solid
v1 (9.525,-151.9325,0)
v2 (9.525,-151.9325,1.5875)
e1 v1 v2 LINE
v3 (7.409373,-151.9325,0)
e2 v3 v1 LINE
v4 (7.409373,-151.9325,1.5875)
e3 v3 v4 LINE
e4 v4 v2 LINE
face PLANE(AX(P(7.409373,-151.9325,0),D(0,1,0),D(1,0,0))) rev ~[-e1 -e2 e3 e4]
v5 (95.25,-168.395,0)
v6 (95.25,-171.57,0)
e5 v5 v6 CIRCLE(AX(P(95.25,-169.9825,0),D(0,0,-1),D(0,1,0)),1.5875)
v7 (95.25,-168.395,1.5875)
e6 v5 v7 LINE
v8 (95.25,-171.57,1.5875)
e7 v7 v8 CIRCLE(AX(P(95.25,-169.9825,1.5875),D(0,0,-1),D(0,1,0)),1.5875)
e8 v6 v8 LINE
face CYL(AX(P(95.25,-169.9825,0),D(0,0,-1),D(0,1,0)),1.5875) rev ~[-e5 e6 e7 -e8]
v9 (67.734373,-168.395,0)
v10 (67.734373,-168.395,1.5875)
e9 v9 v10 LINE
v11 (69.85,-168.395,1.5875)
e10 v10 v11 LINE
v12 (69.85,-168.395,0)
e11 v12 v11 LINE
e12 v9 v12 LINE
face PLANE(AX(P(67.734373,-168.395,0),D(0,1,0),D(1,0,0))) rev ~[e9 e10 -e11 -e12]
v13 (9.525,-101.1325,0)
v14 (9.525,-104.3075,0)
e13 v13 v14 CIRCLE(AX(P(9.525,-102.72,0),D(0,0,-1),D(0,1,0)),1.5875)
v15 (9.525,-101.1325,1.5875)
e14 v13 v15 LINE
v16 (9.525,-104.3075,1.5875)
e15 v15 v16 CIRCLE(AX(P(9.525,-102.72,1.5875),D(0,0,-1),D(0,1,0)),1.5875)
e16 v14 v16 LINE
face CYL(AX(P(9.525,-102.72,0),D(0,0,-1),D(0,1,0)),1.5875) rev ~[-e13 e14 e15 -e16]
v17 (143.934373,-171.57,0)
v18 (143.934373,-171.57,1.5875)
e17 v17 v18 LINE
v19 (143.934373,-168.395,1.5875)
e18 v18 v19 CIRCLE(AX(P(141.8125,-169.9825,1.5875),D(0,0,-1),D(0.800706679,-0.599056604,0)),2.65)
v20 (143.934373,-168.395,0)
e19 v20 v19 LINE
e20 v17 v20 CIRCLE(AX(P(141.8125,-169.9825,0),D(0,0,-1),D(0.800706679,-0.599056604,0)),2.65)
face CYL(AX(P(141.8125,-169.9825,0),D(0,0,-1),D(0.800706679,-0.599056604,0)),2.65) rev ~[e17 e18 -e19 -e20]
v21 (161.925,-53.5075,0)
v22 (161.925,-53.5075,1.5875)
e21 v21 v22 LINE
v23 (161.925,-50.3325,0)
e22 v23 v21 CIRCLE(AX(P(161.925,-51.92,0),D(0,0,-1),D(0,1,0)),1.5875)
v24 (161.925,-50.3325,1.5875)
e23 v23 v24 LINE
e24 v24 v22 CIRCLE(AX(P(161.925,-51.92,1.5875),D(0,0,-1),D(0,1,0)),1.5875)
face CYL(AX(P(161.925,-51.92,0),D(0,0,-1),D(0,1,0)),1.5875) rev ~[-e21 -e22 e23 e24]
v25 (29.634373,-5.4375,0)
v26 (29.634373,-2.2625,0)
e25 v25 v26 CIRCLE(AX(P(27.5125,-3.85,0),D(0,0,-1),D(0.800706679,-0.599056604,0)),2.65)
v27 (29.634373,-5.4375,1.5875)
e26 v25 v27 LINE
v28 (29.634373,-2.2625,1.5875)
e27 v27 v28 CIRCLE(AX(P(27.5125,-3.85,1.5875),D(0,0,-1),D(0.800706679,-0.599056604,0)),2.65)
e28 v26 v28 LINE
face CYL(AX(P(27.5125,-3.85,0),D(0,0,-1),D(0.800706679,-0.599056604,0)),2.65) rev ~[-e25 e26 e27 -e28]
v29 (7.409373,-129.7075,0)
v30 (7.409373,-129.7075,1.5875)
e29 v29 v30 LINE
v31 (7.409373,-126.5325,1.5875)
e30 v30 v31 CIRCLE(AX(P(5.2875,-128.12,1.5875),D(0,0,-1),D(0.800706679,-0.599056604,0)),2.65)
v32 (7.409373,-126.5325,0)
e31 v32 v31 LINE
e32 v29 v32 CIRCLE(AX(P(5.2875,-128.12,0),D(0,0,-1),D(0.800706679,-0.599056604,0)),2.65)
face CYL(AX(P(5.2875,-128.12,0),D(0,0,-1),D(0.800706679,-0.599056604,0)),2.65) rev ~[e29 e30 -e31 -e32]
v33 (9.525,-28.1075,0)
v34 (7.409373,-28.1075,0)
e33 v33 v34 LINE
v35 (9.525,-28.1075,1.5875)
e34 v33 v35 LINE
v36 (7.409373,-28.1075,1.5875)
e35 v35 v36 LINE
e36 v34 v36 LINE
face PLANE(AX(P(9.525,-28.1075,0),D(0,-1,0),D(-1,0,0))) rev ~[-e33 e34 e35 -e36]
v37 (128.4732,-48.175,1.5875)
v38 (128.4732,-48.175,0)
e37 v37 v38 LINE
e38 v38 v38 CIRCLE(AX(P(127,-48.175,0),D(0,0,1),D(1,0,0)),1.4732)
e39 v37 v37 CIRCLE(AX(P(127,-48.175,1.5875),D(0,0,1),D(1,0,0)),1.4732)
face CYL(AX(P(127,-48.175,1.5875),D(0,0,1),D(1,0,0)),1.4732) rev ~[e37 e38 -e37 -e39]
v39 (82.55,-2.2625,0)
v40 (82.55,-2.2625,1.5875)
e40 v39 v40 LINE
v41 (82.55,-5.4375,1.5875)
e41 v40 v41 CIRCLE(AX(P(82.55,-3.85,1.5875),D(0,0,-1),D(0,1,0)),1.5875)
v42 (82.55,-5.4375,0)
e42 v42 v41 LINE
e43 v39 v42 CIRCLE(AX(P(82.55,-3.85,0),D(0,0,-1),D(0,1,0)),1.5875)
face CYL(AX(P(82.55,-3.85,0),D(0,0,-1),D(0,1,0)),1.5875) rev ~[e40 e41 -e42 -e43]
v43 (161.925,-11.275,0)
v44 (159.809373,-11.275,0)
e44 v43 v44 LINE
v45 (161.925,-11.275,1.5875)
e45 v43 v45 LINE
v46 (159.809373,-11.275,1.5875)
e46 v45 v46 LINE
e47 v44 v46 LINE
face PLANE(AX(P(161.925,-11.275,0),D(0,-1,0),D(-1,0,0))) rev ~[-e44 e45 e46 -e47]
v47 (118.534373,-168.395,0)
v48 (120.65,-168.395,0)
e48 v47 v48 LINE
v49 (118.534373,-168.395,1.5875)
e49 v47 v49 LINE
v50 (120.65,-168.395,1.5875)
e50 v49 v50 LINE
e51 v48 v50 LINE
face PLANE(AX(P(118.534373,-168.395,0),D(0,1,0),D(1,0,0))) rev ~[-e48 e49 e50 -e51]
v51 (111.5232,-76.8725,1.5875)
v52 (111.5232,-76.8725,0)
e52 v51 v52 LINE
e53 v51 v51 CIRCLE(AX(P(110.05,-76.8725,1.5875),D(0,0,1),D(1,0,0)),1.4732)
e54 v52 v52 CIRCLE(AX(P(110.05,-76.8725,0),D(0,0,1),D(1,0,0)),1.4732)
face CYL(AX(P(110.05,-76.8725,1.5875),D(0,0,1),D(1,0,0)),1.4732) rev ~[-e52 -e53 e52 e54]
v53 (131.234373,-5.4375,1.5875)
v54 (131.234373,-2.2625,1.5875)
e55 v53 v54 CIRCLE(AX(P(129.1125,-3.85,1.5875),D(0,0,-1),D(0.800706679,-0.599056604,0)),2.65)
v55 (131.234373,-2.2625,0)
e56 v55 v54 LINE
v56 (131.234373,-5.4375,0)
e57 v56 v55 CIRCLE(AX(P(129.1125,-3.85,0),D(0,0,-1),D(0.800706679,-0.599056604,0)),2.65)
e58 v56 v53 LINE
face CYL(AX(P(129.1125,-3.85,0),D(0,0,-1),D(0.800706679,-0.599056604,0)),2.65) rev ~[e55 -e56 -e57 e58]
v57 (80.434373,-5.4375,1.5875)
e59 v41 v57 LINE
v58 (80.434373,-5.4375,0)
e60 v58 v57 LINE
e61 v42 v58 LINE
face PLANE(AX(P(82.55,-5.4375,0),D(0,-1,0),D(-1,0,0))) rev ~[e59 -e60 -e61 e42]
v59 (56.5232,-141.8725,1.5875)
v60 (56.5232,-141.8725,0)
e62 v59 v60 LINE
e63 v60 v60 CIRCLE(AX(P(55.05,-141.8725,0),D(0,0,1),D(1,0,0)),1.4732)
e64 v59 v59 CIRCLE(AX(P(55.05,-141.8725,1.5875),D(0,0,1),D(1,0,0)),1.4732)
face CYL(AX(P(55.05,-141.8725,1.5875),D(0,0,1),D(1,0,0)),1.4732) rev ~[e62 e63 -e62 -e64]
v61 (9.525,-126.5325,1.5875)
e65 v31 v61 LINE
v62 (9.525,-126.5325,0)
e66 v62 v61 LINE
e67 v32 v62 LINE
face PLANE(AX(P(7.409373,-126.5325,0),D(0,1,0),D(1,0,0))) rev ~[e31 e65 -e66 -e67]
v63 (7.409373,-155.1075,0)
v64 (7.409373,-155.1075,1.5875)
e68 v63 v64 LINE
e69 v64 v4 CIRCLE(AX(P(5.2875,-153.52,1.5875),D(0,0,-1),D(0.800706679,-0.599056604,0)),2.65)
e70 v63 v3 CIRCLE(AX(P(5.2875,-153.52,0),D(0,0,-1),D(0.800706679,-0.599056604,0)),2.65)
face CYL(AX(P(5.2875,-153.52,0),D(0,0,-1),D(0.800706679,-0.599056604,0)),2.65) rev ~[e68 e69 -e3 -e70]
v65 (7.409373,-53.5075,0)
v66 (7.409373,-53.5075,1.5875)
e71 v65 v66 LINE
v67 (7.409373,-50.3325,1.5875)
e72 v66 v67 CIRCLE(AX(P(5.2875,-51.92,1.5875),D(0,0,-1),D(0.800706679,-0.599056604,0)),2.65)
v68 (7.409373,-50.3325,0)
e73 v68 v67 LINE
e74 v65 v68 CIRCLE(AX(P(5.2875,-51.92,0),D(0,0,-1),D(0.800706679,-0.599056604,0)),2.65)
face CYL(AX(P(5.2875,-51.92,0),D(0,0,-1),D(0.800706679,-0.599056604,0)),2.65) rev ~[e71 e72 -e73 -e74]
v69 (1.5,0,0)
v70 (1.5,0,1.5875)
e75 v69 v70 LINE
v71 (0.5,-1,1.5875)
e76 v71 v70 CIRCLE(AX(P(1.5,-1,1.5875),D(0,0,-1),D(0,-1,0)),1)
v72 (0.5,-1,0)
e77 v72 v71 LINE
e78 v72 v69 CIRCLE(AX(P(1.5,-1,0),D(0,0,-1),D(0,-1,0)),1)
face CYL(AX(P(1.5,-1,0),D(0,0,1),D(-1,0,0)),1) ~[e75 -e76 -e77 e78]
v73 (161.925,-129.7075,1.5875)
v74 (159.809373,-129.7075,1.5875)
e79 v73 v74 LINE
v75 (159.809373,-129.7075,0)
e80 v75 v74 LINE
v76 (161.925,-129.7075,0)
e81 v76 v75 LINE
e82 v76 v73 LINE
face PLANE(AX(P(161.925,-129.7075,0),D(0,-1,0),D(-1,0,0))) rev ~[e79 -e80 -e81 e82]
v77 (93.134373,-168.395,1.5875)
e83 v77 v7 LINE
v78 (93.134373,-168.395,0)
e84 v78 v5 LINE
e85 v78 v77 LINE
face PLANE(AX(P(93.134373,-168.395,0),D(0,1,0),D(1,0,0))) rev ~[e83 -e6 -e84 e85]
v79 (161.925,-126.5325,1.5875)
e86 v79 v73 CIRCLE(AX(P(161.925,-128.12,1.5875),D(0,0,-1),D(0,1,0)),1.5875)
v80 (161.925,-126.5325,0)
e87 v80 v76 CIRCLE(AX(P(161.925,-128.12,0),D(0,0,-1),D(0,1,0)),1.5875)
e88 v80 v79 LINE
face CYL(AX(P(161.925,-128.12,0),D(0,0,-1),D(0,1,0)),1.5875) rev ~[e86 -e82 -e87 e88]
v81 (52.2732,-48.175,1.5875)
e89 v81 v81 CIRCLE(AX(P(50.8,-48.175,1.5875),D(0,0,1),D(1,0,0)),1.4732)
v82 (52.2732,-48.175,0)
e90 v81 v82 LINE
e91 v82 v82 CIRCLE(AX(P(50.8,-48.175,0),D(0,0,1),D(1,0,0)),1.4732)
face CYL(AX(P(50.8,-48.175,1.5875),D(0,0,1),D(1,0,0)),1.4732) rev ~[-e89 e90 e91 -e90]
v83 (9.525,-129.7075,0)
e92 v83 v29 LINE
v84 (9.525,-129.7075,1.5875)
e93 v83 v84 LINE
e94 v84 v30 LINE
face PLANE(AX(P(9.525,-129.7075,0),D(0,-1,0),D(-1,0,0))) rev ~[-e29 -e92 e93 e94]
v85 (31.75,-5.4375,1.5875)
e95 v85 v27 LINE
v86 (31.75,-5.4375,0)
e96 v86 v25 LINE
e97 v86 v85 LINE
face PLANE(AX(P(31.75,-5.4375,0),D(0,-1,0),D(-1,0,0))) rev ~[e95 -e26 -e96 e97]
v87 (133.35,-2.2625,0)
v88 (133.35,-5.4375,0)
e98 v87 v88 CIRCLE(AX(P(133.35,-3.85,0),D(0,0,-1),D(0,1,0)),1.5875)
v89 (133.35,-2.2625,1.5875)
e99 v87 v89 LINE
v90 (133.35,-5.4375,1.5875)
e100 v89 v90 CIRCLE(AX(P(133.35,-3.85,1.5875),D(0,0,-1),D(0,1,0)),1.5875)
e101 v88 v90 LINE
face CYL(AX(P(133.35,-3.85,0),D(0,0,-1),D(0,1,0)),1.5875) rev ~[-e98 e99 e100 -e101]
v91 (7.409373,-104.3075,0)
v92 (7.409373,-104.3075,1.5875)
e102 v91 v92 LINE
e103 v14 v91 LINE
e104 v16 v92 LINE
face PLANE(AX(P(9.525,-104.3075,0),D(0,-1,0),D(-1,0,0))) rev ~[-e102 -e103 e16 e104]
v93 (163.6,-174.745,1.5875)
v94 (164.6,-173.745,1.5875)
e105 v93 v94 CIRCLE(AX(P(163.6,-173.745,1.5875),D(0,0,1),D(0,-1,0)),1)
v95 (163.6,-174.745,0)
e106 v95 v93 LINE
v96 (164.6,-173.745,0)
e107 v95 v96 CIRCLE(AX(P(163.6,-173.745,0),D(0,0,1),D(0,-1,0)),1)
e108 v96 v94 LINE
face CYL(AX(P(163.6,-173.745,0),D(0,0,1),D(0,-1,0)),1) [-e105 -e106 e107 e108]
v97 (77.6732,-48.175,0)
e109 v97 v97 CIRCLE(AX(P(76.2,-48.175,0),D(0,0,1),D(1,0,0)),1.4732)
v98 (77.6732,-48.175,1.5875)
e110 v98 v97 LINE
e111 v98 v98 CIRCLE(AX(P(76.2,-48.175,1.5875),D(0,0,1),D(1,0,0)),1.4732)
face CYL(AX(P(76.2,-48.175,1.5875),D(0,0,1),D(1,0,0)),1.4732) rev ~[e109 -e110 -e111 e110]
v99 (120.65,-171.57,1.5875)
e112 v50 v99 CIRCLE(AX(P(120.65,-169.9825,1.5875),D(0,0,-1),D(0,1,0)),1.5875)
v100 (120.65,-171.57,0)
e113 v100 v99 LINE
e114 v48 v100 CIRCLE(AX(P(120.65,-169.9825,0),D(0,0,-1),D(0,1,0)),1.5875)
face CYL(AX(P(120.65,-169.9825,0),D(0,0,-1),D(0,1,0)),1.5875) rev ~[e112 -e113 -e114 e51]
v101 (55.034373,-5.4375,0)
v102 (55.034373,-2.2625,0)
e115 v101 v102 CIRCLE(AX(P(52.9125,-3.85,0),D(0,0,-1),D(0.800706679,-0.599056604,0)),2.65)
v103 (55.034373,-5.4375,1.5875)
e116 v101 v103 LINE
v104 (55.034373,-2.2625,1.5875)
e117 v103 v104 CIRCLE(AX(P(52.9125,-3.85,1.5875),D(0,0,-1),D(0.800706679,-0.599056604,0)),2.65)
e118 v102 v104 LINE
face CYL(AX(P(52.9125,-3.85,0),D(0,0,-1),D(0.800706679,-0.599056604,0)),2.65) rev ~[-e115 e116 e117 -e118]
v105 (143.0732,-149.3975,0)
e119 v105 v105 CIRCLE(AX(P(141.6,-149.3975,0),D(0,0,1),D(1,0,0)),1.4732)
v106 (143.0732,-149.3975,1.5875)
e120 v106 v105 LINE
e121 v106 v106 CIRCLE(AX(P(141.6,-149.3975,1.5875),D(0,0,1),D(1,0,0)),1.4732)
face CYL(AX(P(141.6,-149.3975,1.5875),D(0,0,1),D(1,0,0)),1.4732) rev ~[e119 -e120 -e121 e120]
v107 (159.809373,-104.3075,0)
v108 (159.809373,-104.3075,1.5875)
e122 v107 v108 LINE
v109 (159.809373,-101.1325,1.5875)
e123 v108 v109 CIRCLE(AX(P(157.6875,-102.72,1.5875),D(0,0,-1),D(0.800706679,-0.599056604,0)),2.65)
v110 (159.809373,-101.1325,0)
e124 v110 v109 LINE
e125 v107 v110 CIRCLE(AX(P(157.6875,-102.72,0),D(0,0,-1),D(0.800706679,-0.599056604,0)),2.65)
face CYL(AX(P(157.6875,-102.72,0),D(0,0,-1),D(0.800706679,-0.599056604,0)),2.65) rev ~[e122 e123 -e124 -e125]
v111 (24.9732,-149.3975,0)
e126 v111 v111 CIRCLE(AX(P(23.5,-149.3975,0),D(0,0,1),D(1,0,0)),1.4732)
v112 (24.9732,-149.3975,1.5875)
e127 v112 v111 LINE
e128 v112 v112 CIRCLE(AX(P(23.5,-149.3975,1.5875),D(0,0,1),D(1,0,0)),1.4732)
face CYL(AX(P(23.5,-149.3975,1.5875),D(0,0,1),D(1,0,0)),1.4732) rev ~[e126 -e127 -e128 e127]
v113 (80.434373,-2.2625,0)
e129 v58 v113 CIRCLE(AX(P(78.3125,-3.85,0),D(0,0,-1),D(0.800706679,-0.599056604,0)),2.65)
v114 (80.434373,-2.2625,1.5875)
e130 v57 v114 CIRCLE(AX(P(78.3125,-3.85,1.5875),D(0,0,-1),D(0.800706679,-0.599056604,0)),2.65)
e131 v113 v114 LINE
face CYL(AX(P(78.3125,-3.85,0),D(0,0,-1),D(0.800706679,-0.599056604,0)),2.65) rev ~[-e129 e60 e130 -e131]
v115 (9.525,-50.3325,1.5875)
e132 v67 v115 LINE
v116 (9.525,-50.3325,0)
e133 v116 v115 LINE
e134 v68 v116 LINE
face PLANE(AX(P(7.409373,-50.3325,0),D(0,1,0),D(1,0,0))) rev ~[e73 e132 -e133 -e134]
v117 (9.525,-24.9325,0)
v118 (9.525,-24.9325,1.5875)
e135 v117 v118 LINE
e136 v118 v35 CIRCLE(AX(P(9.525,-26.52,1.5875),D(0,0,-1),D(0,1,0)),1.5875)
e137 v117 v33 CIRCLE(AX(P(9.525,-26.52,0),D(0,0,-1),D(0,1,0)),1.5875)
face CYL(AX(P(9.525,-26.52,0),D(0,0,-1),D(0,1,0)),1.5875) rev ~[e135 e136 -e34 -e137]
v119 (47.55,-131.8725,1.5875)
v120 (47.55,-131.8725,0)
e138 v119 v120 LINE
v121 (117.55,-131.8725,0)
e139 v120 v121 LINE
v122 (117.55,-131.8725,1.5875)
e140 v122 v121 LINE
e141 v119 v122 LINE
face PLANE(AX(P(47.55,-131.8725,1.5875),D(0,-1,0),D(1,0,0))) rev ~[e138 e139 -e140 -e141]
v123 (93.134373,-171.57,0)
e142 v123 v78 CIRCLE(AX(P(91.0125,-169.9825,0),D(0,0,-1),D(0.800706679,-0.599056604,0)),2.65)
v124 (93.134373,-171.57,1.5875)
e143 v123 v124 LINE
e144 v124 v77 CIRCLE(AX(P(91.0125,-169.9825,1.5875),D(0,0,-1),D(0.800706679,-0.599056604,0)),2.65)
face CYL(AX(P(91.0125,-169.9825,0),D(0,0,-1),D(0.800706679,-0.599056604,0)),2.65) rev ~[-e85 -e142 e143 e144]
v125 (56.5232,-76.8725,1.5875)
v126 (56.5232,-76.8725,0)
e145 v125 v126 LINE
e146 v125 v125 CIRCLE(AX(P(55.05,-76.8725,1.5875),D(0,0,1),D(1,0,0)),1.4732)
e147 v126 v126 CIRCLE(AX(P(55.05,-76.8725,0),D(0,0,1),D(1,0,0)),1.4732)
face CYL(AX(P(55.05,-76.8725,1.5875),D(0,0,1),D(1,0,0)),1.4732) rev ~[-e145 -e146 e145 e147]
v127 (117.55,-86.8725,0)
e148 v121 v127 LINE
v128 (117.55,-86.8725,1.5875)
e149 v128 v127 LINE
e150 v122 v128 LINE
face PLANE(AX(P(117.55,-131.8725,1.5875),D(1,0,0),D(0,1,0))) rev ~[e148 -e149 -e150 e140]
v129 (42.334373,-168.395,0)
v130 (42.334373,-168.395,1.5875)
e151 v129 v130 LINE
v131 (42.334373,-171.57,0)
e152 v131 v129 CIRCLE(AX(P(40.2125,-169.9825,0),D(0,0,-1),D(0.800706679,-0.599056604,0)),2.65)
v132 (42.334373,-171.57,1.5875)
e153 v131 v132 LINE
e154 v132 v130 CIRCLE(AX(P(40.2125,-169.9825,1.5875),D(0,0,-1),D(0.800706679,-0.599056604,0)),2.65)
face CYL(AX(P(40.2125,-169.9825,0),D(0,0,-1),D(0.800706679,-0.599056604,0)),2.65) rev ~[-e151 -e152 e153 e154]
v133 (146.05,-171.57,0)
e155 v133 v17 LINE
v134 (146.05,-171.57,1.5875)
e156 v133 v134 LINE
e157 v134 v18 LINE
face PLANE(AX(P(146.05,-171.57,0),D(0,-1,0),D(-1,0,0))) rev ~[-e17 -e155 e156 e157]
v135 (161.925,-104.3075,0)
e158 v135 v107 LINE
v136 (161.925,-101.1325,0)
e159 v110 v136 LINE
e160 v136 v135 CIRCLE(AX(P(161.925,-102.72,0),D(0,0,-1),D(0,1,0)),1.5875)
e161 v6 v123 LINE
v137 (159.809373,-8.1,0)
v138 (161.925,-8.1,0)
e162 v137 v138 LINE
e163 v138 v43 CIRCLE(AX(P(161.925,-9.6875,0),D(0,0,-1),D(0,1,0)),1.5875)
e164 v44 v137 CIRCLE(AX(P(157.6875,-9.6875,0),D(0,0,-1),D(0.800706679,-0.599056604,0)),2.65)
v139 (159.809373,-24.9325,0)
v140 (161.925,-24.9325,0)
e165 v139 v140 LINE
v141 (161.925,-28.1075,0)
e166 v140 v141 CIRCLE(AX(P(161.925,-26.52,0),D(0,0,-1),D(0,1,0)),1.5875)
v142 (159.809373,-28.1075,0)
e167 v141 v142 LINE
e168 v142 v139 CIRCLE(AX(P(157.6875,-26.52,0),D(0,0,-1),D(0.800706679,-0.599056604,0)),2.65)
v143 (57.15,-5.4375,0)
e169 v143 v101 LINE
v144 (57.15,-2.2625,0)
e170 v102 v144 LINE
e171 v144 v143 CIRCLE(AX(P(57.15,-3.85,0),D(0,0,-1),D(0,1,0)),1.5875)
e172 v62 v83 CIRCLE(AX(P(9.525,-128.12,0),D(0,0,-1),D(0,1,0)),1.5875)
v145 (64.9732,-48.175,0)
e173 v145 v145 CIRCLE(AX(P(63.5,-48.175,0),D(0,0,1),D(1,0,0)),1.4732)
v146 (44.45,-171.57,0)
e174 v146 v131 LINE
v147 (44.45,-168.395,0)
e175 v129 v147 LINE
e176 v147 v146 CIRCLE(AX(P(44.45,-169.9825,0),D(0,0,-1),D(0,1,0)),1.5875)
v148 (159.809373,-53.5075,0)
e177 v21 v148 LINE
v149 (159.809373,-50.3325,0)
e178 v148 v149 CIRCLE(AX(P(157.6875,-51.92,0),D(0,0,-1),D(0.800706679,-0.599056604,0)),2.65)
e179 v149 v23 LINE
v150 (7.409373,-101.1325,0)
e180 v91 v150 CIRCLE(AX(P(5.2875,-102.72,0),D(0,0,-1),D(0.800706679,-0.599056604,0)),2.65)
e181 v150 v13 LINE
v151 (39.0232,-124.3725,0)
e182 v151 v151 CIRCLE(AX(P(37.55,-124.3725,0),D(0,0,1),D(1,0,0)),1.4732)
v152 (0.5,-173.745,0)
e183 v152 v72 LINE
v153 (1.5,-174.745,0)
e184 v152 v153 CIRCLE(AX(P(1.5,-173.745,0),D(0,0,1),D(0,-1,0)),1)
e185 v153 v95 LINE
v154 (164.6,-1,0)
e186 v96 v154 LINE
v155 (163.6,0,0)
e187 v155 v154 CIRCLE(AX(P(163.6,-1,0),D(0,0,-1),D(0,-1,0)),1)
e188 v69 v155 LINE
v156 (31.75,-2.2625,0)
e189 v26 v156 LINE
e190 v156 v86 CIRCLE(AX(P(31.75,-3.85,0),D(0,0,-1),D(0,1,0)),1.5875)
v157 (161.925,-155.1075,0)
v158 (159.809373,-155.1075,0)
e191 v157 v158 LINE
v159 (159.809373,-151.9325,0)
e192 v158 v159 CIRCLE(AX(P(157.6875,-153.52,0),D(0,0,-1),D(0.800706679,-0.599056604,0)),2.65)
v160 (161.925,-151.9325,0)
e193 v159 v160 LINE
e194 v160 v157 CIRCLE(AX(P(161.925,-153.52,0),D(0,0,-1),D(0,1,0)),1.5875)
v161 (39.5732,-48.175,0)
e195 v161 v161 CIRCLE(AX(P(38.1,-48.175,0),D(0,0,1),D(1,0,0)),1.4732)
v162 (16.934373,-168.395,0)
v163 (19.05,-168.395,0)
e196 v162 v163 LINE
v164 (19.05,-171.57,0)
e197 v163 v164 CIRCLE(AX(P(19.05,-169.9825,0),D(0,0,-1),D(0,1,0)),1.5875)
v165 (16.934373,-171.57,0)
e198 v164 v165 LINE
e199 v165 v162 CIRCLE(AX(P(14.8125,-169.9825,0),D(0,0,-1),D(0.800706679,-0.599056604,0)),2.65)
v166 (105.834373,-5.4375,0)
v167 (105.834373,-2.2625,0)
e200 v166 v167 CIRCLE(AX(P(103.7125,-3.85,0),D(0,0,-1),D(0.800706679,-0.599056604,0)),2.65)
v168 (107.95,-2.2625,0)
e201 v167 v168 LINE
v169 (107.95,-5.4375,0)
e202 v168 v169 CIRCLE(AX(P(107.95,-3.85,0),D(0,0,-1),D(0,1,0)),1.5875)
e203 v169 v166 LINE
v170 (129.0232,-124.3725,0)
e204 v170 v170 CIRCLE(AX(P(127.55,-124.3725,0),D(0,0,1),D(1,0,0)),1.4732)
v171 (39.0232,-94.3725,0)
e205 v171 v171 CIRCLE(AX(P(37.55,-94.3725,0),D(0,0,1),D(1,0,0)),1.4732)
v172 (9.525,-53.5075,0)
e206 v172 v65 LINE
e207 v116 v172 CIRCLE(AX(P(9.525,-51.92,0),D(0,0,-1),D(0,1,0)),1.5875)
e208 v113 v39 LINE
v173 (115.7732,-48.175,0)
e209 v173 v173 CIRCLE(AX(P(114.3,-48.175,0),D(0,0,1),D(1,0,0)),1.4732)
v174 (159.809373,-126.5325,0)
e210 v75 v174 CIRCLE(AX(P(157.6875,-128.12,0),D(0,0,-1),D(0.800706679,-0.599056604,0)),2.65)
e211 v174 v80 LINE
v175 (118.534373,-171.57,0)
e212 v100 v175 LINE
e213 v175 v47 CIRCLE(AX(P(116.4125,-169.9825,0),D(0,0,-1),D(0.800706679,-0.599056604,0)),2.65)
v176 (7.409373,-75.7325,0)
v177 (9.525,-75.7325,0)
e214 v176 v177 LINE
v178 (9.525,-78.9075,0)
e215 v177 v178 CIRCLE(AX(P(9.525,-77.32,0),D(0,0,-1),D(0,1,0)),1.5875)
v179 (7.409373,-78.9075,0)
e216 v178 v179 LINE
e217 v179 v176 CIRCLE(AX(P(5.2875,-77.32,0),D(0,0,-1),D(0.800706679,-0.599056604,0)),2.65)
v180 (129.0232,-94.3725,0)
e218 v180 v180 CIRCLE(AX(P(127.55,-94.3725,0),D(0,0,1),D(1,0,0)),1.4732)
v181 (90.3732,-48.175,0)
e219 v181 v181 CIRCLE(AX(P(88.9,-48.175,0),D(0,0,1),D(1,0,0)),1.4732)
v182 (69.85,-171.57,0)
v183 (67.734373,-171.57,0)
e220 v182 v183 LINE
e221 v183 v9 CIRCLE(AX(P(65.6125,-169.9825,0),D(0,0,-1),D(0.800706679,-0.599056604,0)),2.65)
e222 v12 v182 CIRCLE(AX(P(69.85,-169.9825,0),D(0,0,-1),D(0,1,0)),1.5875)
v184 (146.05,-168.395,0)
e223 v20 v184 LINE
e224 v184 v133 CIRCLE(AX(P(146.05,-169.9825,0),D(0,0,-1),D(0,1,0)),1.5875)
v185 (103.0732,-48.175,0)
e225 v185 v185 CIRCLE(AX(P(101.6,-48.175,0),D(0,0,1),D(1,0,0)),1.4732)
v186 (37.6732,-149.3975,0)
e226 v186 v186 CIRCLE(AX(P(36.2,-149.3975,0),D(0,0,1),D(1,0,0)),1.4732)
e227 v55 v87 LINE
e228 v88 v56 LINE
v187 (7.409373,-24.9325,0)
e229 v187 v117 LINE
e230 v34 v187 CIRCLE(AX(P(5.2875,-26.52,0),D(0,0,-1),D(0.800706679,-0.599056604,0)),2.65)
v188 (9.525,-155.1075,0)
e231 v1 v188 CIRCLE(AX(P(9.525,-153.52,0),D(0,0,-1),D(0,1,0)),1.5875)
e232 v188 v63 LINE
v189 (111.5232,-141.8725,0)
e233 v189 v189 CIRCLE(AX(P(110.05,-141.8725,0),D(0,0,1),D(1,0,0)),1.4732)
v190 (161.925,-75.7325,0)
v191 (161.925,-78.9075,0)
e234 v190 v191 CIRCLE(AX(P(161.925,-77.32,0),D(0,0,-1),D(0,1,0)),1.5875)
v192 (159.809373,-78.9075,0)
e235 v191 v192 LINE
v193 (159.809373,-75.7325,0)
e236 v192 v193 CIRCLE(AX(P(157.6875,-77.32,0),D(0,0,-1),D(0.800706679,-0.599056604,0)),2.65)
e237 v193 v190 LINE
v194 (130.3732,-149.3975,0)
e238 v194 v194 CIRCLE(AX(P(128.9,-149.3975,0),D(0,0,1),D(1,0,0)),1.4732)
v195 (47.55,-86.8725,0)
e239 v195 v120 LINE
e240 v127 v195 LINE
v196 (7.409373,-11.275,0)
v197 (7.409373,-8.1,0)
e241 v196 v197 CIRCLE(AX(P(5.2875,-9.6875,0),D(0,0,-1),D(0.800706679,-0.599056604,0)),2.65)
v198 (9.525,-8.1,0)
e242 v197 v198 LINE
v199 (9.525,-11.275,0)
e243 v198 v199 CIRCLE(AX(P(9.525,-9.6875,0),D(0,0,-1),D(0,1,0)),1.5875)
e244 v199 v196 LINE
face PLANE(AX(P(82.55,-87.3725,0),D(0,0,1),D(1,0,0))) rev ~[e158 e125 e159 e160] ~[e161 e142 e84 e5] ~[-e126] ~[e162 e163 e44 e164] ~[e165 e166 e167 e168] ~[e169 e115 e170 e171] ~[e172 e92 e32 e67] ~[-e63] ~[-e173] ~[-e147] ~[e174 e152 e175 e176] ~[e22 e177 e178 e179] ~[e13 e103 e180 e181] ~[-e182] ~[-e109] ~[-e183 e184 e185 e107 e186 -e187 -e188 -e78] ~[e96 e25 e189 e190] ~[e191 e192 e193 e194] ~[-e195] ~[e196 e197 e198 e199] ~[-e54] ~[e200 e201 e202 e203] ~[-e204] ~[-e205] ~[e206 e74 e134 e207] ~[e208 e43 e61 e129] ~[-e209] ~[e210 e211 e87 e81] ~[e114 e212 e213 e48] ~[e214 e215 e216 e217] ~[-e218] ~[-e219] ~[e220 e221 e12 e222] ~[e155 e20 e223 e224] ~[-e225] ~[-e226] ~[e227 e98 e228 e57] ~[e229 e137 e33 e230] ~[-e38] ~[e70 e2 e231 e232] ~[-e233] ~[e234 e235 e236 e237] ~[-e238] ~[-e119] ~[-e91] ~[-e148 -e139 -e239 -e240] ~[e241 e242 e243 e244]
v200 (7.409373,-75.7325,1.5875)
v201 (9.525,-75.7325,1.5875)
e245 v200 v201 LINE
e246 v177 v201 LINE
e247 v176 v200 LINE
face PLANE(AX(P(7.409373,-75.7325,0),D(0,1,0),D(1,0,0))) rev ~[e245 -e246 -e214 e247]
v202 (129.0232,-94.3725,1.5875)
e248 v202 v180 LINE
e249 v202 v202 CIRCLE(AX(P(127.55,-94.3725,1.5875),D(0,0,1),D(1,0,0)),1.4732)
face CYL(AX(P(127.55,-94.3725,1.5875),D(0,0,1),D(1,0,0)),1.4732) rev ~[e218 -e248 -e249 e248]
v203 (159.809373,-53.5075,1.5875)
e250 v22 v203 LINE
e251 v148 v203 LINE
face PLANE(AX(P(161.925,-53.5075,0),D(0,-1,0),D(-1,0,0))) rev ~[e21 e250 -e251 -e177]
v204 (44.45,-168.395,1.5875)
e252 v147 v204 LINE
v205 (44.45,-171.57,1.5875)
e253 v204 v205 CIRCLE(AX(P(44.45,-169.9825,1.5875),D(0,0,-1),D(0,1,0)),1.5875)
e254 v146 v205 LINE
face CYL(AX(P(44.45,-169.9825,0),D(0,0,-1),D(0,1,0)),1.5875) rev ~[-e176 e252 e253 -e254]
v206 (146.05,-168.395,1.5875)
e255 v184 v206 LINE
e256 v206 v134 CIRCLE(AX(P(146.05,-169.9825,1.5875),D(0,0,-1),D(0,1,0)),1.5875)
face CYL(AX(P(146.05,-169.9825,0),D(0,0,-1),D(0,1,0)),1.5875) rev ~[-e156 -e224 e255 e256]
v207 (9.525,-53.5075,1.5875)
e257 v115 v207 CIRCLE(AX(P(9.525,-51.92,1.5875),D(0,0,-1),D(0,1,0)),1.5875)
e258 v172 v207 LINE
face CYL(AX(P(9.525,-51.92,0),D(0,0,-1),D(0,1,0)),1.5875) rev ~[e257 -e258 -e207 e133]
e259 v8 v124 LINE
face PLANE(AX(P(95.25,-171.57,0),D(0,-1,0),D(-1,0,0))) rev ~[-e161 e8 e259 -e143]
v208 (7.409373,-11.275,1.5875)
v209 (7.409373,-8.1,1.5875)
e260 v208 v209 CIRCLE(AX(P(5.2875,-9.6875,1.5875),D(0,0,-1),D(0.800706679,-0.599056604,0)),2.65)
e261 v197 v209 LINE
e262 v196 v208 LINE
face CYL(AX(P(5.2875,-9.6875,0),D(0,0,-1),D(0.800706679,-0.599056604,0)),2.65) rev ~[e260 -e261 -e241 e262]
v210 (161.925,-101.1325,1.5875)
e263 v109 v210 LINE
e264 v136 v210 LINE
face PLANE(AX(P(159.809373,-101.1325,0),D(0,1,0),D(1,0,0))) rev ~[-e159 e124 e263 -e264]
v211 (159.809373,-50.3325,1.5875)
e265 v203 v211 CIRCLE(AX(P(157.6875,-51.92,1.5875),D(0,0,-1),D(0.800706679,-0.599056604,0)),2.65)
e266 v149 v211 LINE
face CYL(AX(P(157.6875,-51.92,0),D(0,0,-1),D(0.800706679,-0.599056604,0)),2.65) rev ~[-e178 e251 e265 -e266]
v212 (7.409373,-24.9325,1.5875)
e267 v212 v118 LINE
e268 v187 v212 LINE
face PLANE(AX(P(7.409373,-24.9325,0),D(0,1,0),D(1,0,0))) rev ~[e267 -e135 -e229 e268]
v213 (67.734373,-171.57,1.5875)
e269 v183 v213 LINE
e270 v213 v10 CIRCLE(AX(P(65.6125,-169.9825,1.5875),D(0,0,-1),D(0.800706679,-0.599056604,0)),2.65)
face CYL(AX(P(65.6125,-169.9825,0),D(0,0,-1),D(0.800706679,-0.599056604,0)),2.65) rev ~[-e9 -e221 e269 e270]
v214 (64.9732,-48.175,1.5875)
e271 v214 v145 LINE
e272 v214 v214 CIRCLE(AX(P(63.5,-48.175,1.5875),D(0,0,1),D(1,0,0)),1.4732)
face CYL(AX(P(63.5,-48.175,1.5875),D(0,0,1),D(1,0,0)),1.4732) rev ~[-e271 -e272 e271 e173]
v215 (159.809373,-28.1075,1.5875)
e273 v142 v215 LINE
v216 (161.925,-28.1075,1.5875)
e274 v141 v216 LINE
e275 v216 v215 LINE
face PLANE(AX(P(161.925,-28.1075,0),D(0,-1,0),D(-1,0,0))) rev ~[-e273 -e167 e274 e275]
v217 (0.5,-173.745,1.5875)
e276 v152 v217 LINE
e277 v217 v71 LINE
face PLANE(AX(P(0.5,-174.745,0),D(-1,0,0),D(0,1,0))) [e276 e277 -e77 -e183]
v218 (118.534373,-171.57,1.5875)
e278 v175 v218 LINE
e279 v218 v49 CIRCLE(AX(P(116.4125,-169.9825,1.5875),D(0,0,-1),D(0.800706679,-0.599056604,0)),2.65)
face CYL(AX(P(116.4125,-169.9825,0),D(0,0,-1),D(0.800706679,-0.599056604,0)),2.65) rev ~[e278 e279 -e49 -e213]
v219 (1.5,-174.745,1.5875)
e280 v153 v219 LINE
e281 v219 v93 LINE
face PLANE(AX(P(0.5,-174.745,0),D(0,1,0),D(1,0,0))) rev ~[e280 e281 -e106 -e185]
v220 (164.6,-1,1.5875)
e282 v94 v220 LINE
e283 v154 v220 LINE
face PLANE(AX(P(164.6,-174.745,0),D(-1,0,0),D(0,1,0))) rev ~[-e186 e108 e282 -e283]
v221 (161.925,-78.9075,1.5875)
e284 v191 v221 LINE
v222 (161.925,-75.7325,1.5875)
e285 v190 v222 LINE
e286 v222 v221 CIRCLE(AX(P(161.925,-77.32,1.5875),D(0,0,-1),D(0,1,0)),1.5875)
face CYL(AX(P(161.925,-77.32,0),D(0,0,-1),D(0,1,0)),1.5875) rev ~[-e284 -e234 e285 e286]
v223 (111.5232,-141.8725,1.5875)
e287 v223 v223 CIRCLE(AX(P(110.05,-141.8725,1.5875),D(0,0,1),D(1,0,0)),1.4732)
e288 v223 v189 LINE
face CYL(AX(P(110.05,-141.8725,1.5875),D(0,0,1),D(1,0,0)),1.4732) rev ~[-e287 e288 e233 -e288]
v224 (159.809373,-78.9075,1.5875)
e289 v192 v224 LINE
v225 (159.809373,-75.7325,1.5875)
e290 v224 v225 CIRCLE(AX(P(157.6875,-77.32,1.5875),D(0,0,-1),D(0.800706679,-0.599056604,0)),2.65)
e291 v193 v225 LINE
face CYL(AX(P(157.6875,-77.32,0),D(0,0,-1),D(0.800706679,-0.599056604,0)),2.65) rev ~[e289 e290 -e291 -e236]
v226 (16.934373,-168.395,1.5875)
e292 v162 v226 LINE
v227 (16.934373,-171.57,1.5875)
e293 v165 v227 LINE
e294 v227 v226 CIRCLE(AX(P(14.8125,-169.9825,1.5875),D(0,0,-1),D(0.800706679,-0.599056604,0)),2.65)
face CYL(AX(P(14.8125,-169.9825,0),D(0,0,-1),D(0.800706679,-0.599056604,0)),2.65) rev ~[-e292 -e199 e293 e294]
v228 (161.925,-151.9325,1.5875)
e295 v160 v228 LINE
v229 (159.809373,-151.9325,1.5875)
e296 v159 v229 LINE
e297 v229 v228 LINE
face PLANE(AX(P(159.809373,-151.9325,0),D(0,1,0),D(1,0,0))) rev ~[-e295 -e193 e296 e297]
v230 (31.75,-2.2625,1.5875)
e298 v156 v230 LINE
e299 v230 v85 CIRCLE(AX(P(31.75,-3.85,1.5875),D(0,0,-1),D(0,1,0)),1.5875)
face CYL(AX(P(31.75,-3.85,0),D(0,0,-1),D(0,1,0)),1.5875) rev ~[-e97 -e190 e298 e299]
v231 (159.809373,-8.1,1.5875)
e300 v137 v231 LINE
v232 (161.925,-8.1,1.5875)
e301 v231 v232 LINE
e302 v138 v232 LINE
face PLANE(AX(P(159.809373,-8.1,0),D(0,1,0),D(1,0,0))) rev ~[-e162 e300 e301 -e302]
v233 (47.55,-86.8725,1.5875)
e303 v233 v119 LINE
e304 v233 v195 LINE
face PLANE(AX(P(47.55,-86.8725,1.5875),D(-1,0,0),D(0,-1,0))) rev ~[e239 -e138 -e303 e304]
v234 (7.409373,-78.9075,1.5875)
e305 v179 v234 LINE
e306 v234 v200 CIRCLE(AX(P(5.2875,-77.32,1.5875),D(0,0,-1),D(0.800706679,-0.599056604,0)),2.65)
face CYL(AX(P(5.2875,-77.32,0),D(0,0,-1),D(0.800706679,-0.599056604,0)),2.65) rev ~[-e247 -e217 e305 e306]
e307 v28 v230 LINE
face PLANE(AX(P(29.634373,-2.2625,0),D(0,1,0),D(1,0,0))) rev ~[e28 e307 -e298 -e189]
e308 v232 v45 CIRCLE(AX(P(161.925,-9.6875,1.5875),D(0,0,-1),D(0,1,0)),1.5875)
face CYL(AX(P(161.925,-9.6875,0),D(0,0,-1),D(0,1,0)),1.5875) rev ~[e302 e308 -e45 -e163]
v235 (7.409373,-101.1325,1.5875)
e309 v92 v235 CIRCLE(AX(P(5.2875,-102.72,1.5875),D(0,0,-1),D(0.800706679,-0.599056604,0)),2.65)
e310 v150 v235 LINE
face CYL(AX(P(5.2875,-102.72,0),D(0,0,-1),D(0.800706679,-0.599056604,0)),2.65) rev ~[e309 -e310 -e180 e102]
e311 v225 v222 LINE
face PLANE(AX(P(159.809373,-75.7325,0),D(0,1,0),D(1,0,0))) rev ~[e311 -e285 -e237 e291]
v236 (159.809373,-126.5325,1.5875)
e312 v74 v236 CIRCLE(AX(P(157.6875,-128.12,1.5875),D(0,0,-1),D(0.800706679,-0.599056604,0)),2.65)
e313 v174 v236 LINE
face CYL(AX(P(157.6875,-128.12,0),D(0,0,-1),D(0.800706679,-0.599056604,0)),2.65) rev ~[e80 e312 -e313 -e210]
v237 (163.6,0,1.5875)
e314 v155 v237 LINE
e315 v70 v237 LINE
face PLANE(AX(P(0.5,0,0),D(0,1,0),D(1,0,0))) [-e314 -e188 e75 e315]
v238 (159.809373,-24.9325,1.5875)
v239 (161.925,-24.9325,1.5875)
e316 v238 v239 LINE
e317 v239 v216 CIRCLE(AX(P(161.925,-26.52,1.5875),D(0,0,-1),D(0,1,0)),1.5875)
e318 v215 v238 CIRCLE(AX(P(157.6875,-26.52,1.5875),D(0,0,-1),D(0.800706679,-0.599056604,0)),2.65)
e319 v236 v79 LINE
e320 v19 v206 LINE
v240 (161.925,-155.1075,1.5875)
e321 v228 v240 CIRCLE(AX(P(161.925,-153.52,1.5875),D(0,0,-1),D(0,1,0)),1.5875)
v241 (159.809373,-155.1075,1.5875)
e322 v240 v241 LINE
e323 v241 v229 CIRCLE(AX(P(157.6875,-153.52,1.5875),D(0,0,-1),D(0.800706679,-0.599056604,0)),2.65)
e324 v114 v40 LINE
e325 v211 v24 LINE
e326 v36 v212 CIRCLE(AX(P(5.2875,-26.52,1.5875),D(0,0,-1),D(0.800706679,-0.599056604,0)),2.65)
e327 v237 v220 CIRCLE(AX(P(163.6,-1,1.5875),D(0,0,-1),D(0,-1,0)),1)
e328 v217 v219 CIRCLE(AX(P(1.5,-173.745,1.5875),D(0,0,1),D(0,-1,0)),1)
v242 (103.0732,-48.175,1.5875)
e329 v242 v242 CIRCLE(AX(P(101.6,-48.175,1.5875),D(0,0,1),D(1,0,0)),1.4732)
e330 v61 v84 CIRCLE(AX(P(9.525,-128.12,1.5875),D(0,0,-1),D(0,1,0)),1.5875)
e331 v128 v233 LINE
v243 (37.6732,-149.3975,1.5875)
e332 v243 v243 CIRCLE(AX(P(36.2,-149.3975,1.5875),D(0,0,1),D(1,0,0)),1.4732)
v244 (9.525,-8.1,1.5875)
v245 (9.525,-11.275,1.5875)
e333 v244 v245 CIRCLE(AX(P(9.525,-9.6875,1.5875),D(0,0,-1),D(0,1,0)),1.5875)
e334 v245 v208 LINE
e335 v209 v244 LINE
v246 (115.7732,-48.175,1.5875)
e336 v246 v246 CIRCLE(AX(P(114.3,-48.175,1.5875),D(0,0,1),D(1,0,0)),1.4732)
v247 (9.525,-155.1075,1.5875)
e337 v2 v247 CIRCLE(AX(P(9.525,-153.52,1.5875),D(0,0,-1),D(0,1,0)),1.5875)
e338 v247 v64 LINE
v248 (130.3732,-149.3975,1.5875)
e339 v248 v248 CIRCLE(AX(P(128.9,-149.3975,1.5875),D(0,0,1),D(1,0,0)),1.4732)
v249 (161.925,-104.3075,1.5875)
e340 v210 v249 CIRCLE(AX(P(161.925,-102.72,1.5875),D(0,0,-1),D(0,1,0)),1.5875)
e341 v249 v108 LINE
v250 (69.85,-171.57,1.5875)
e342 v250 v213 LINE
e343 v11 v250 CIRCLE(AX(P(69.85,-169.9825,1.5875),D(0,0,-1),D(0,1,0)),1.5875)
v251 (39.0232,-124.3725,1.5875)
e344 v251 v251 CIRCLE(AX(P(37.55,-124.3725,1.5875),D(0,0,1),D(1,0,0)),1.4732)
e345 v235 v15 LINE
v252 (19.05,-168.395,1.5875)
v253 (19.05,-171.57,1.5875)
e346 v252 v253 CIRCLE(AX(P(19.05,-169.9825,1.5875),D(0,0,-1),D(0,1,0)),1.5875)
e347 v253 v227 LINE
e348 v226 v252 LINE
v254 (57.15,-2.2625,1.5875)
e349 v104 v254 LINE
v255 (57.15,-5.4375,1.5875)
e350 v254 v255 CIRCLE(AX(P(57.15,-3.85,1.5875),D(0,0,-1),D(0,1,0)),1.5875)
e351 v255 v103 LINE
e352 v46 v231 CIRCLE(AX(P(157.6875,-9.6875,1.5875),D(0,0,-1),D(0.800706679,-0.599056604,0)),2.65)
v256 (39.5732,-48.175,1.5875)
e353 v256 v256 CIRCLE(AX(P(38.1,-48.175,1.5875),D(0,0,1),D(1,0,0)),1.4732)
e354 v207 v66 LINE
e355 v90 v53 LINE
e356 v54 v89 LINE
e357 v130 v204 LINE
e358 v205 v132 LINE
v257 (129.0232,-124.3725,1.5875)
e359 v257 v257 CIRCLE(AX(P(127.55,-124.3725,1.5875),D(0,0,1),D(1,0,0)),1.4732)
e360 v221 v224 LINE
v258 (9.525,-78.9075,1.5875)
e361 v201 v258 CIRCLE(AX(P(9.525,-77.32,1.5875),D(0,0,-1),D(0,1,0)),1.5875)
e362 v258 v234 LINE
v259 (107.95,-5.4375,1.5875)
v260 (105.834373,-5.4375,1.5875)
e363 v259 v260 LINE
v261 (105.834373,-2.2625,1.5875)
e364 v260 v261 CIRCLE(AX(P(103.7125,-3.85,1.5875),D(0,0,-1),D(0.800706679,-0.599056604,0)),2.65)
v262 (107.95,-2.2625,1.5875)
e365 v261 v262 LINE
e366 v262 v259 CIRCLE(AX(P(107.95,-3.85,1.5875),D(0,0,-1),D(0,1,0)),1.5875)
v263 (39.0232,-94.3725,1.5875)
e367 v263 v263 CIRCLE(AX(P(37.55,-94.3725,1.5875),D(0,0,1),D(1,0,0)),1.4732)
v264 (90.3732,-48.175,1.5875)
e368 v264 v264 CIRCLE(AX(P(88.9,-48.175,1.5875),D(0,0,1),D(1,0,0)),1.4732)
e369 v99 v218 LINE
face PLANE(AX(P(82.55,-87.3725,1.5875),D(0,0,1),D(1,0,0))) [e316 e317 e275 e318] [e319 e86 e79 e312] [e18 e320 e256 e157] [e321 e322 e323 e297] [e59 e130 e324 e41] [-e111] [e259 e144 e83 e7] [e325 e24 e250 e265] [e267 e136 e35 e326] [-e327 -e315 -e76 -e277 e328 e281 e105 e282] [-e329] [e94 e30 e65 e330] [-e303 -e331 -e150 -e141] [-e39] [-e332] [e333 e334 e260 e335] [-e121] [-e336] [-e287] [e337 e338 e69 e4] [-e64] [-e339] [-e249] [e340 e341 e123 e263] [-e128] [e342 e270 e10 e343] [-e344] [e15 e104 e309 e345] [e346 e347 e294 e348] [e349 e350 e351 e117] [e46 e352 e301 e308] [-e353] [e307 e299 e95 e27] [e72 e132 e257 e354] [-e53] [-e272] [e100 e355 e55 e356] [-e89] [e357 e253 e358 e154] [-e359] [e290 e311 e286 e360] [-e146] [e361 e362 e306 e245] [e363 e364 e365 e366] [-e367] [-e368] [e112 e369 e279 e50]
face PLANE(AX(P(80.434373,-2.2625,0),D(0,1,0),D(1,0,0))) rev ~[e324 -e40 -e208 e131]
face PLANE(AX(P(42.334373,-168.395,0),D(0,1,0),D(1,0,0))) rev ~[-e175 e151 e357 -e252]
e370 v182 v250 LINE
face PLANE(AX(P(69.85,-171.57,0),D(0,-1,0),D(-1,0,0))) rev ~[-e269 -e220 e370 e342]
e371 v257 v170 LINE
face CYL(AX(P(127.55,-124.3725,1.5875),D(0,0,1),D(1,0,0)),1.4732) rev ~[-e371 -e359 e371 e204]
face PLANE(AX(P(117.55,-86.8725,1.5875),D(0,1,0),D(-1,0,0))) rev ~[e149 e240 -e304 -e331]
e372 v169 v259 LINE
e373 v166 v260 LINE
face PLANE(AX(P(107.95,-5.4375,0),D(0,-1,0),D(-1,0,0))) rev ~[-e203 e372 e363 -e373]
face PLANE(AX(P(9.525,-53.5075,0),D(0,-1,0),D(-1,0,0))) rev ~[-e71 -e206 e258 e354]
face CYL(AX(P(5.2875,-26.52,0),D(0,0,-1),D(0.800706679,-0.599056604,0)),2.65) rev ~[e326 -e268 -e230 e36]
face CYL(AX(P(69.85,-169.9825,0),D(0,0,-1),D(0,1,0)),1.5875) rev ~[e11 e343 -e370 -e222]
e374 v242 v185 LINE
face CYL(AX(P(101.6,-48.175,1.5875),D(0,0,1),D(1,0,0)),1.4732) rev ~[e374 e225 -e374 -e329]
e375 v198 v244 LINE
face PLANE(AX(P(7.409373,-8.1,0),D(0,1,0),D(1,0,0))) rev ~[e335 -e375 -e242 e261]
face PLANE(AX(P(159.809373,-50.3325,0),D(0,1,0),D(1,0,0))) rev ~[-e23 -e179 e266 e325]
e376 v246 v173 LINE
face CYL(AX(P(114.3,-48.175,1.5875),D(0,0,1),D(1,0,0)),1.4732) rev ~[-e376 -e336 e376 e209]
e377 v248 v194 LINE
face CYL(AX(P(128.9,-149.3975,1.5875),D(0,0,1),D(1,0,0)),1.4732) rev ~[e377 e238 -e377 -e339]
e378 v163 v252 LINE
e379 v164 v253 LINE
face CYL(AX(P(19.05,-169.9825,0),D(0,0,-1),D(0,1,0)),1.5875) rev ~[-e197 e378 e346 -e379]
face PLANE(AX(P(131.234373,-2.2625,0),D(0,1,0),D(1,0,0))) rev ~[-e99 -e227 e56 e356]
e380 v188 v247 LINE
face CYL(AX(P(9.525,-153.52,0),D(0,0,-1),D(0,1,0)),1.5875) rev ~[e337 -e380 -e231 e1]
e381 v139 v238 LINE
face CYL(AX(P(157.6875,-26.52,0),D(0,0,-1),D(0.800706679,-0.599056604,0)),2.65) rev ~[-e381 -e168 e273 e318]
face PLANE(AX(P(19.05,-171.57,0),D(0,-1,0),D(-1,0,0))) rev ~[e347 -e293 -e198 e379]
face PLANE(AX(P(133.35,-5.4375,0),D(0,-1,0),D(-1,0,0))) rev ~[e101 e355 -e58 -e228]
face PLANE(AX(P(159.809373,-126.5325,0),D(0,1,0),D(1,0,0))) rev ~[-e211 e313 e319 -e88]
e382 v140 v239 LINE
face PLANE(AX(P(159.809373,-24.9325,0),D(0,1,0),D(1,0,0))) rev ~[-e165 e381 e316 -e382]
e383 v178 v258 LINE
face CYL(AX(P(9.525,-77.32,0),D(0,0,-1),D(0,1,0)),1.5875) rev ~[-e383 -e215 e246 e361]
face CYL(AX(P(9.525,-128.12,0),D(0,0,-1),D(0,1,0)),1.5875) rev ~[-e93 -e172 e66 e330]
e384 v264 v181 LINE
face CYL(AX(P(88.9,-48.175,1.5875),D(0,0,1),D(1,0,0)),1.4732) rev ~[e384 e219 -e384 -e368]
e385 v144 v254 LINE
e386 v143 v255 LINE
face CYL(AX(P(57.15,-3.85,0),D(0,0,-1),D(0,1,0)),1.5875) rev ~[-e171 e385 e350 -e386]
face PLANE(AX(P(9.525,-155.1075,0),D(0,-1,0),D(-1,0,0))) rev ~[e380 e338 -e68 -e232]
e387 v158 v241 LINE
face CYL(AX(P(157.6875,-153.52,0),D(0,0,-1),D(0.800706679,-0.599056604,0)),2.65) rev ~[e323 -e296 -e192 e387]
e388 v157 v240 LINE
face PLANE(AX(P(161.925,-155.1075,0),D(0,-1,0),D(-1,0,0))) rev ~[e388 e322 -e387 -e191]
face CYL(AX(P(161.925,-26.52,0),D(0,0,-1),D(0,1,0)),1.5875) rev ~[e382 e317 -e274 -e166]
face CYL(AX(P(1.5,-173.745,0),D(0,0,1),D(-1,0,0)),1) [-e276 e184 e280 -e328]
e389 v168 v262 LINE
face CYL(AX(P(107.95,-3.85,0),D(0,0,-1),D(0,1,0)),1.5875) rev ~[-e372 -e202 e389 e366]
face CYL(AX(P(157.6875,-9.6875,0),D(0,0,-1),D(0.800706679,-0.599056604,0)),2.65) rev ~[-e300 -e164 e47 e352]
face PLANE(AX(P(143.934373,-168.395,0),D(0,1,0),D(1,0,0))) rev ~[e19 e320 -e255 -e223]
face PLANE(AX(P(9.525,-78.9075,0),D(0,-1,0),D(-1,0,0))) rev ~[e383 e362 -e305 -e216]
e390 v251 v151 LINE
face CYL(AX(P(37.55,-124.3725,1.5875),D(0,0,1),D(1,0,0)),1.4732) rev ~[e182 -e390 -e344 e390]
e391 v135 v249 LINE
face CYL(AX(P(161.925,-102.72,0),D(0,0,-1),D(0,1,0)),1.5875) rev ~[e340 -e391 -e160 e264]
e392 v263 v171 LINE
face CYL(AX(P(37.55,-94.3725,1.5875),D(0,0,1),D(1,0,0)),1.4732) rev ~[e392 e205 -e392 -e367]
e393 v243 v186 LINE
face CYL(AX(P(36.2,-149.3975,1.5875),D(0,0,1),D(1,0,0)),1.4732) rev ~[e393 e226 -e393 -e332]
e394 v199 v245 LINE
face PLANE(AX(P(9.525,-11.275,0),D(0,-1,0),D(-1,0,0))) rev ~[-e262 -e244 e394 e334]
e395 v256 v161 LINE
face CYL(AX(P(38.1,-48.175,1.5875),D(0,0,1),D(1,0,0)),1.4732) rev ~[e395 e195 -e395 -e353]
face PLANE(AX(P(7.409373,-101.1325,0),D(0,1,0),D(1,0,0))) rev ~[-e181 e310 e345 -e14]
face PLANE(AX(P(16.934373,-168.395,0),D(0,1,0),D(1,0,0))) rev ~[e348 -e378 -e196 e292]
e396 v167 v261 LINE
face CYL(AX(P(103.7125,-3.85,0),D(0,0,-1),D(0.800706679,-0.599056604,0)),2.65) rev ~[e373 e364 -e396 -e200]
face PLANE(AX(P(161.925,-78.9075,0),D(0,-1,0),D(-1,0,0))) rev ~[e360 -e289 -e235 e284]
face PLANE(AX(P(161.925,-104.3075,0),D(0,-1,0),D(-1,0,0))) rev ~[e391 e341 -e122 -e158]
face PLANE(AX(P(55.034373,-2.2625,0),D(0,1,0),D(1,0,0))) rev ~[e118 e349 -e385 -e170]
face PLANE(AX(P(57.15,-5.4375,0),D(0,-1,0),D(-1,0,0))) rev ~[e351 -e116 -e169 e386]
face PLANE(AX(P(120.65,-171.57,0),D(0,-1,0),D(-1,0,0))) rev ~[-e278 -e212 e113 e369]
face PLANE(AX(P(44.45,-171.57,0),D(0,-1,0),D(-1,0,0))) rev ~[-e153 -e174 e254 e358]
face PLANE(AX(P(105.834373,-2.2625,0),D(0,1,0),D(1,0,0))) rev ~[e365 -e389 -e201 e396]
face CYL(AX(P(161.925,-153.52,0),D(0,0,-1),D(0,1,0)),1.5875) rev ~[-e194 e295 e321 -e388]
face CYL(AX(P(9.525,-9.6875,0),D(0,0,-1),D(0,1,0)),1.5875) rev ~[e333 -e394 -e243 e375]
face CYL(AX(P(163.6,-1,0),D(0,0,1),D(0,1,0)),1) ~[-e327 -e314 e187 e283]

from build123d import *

# Parameters (mm, degrees)
SKETCH1_W                = 164.1
SKETCH1_H                = 174.745
BOSS_EXTRUDE1_DEPTH      = 1.5875
FILLET1_R                = 1
SKETCH2_R                = 1.4732
CUT_EXTRUDE1_DEPTH       = 10
HEAT_STRAP_CONNECTIONS_R = 1.4732
CUT_EXTRUDE2_DEPTH       = 241.065605994


with BuildPart() as part:
    # Sketch1 → Boss-Extrude1 (new body)
    with BuildSketch(Plane.XY):
        with Locations((82.55, -87.3725)):
            Rectangle(SKETCH1_W, SKETCH1_H)
        with BuildLine():
            Line((82.55, -5.4375), (80.434372699, -5.4375))
            ThreePointArc((80.434372699, -5.4375), (75.6625, -3.85), (80.434372699, -2.2625))
            Line((80.434372699, -2.2625), (82.55, -2.2625))
            ThreePointArc((82.55, -2.2625), (84.1375, -3.85), (82.55, -5.4375))
        make_face(mode=Mode.SUBTRACT)
        with BuildLine():
            Line((16.934372699, -168.395), (19.05, -168.395))
            ThreePointArc((19.05, -168.395), (20.6375, -169.9825), (19.05, -171.57))
            Line((19.05, -171.57), (16.934372699, -171.57))
            ThreePointArc((16.934372699, -171.57), (12.1625, -169.9825), (16.934372699, -168.395))
        make_face(mode=Mode.SUBTRACT)
        with BuildLine():
            Line((7.409372699, -151.9325), (9.525, -151.9325))
            ThreePointArc((9.525, -151.9325), (11.1125, -153.52), (9.525, -155.1075))
            Line((9.525, -155.1075), (7.409372699, -155.1075))
            ThreePointArc((7.409372699, -155.1075), (2.6375, -153.52), (7.409372699, -151.9325))
        make_face(mode=Mode.SUBTRACT)
        with BuildLine():
            Line((42.334372699, -168.395), (44.45, -168.395))
            ThreePointArc((44.45, -168.395), (46.0375, -169.9825), (44.45, -171.57))
            Line((44.45, -171.57), (42.334372699, -171.57))
            ThreePointArc((42.334372699, -171.57), (37.5625, -169.9825), (42.334372699, -168.395))
        make_face(mode=Mode.SUBTRACT)
        with BuildLine():
            Line((67.734372699, -168.395), (69.85, -168.395))
            ThreePointArc((69.85, -168.395), (71.4375, -169.9825), (69.85, -171.57))
            Line((69.85, -171.57), (67.734372699, -171.57))
            ThreePointArc((67.734372699, -171.57), (62.9625, -169.9825), (67.734372699, -168.395))
        make_face(mode=Mode.SUBTRACT)
        with BuildLine():
            Line((7.409372699, -126.5325), (9.525, -126.5325))
            ThreePointArc((9.525, -126.5325), (11.1125, -128.12), (9.525, -129.7075))
            Line((9.525, -129.7075), (7.409372699, -129.7075))
            ThreePointArc((7.409372699, -129.7075), (2.6375, -128.12), (7.409372699, -126.5325))
        make_face(mode=Mode.SUBTRACT)
        with BuildLine():
            Line((7.409372699, -101.1325), (9.525, -101.1325))
            ThreePointArc((9.525, -101.1325), (11.1125, -102.72), (9.525, -104.3075))
            Line((9.525, -104.3075), (7.409372699, -104.3075))
            ThreePointArc((7.409372699, -104.3075), (2.6375, -102.72), (7.409372699, -101.1325))
        make_face(mode=Mode.SUBTRACT)
        with BuildLine():
            Line((7.409372699, -75.7325), (9.525, -75.7325))
            ThreePointArc((9.525, -75.7325), (11.1125, -77.32), (9.525, -78.9075))
            Line((9.525, -78.9075), (7.409372699, -78.9075))
            ThreePointArc((7.409372699, -78.9075), (2.6375, -77.32), (7.409372699, -75.7325))
        make_face(mode=Mode.SUBTRACT)
        with BuildLine():
            Line((7.409372699, -50.3325), (9.525, -50.3325))
            ThreePointArc((9.525, -50.3325), (11.1125, -51.92), (9.525, -53.5075))
            Line((9.525, -53.5075), (7.409372699, -53.5075))
            ThreePointArc((7.409372699, -53.5075), (2.6375, -51.92), (7.409372699, -50.3325))
        make_face(mode=Mode.SUBTRACT)
        with BuildLine():
            Line((7.409372699, -24.9325), (9.525, -24.9325))
            ThreePointArc((9.525, -24.9325), (11.1125, -26.52), (9.525, -28.1075))
            Line((9.525, -28.1075), (7.409372699, -28.1075))
            ThreePointArc((7.409372699, -28.1075), (2.6375, -26.52), (7.409372699, -24.9325))
        make_face(mode=Mode.SUBTRACT)
        with BuildLine():
            Line((7.409372699, -8.1), (9.525, -8.1))
            ThreePointArc((9.525, -8.1), (11.1125, -9.6875), (9.525, -11.275))
            Line((9.525, -11.275), (7.409372699, -11.275))
            ThreePointArc((7.409372699, -11.275), (2.6375, -9.6875), (7.409372699, -8.1))
        make_face(mode=Mode.SUBTRACT)
        with BuildLine():
            Line((29.634372699, -2.2625), (31.75, -2.2625))
            ThreePointArc((31.75, -2.2625), (33.3375, -3.85), (31.75, -5.4375))
            Line((31.75, -5.4375), (29.634372699, -5.4375))
            ThreePointArc((29.634372699, -5.4375), (24.8625, -3.85), (29.634372699, -2.2625))
        make_face(mode=Mode.SUBTRACT)
        with BuildLine():
            Line((55.034372699, -2.2625), (57.15, -2.2625))
            ThreePointArc((57.15, -2.2625), (58.7375, -3.85), (57.15, -5.4375))
            Line((57.15, -5.4375), (55.034372699, -5.4375))
            ThreePointArc((55.034372699, -5.4375), (50.2625, -3.85), (55.034372699, -2.2625))
        make_face(mode=Mode.SUBTRACT)
        with BuildLine():
            ThreePointArc((161.925, -8.1), (163.5125, -9.6875), (161.925, -11.275))
            Line((161.925, -11.275), (159.809372699, -11.275))
            ThreePointArc((159.809372699, -11.275), (155.0375, -9.6875), (159.809372699, -8.1))
            Line((159.809372699, -8.1), (161.925, -8.1))
        make_face(mode=Mode.SUBTRACT)
        with BuildLine():
            Line((93.134372699, -168.395), (95.25, -168.395))
            ThreePointArc((95.25, -168.395), (96.8375, -169.9825), (95.25, -171.57))
            Line((95.25, -171.57), (93.134372699, -171.57))
            ThreePointArc((93.134372699, -171.57), (88.3625, -169.9825), (93.134372699, -168.395))
        make_face(mode=Mode.SUBTRACT)
        with BuildLine():
            Line((118.534372699, -168.395), (120.65, -168.395))
            ThreePointArc((120.65, -168.395), (122.2375, -169.9825), (120.65, -171.57))
            Line((120.65, -171.57), (118.534372699, -171.57))
            ThreePointArc((118.534372699, -171.57), (113.7625, -169.9825), (118.534372699, -168.395))
        make_face(mode=Mode.SUBTRACT)
        with BuildLine():
            Line((143.934372699, -168.395), (146.05, -168.395))
            ThreePointArc((146.05, -168.395), (147.6375, -169.9825), (146.05, -171.57))
            Line((146.05, -171.57), (143.934372699, -171.57))
            ThreePointArc((143.934372699, -171.57), (139.1625, -169.9825), (143.934372699, -168.395))
        make_face(mode=Mode.SUBTRACT)
        with BuildLine():
            Line((159.809372699, -151.9325), (161.925, -151.9325))
            ThreePointArc((161.925, -151.9325), (163.5125, -153.52), (161.925, -155.1075))
            Line((161.925, -155.1075), (159.809372699, -155.1075))
            ThreePointArc((159.809372699, -155.1075), (155.0375, -153.52), (159.809372699, -151.9325))
        make_face(mode=Mode.SUBTRACT)
        with BuildLine():
            Line((159.809372699, -126.5325), (161.925, -126.5325))
            ThreePointArc((161.925, -126.5325), (163.5125, -128.12), (161.925, -129.7075))
            Line((161.925, -129.7075), (159.809372699, -129.7075))
            ThreePointArc((159.809372699, -129.7075), (155.0375, -128.12), (159.809372699, -126.5325))
        make_face(mode=Mode.SUBTRACT)
        with BuildLine():
            Line((159.809372699, -101.1325), (161.925, -101.1325))
            ThreePointArc((161.925, -101.1325), (163.5125, -102.72), (161.925, -104.3075))
            Line((161.925, -104.3075), (159.809372699, -104.3075))
            ThreePointArc((159.809372699, -104.3075), (155.0375, -102.72), (159.809372699, -101.1325))
        make_face(mode=Mode.SUBTRACT)
        with BuildLine():
            Line((159.809372699, -75.7325), (161.925, -75.7325))
            ThreePointArc((161.925, -75.7325), (163.5125, -77.32), (161.925, -78.9075))
            Line((161.925, -78.9075), (159.809372699, -78.9075))
            ThreePointArc((159.809372699, -78.9075), (155.0375, -77.32), (159.809372699, -75.7325))
        make_face(mode=Mode.SUBTRACT)
        with BuildLine():
            Line((159.809372699, -50.3325), (161.925, -50.3325))
            ThreePointArc((161.925, -50.3325), (163.5125, -51.92), (161.925, -53.5075))
            Line((161.925, -53.5075), (159.809372699, -53.5075))
            ThreePointArc((159.809372699, -53.5075), (155.0375, -51.92), (159.809372699, -50.3325))
        make_face(mode=Mode.SUBTRACT)
        with BuildLine():
            Line((105.834372699, -2.2625), (107.95, -2.2625))
            ThreePointArc((107.95, -2.2625), (109.5375, -3.85), (107.95, -5.4375))
            Line((107.95, -5.4375), (105.834372699, -5.4375))
            ThreePointArc((105.834372699, -5.4375), (101.0625, -3.85), (105.834372699, -2.2625))
        make_face(mode=Mode.SUBTRACT)
        with BuildLine():
            Line((159.809372699, -24.9325), (161.925, -24.9325))
            ThreePointArc((161.925, -24.9325), (163.5125, -26.52), (161.925, -28.1075))
            Line((161.925, -28.1075), (159.809372699, -28.1075))
            ThreePointArc((159.809372699, -28.1075), (155.0375, -26.52), (159.809372699, -24.9325))
        make_face(mode=Mode.SUBTRACT)
        with BuildLine():
            Line((131.234372699, -2.2625), (133.35, -2.2625))
            ThreePointArc((133.35, -2.2625), (134.9375, -3.85), (133.35, -5.4375))
            Line((133.35, -5.4375), (131.234372699, -5.4375))
            ThreePointArc((131.234372699, -5.4375), (126.4625, -3.85), (131.234372699, -2.2625))
        make_face(mode=Mode.SUBTRACT)
    extrude(amount=BOSS_EXTRUDE1_DEPTH)

    # Fillet1
    fillet1_edges = [part.edges().sort_by_distance(p)[0] for p in [
        (164.6, -174.745, 0.79375),
        (0.5, -174.745, 0.79375),
        (0.5, 0, 0.79375),
        (164.6, 0, 0.79375),
    ]]
    fillet(fillet1_edges, radius=FILLET1_R)

    # Sketch2 → Cut-Extrude1 (cut)
    with BuildSketch(Plane.XY.offset(1.5875)):
        Polygon((117.55, -86.8725), (47.55, -86.8725), (47.55, -126.8725), (47.55, -131.8725), (117.55, -131.8725), (117.55, -126.8725), align=None)
        with Locations((110.05, -76.8725)):
            Circle(SKETCH2_R)
        with Locations((37.55, -94.3725)):
            Circle(SKETCH2_R)
        with Locations((37.55, -124.3725)):
            Circle(SKETCH2_R)
        with Locations((110.05, -141.8725)):
            Circle(SKETCH2_R)
        with Locations((55.05, -141.8725)):
            Circle(SKETCH2_R)
        with Locations((55.05, -76.8725)):
            Circle(SKETCH2_R)
        with Locations((127.55, -94.3725)):
            Circle(SKETCH2_R)
        with Locations((127.55, -124.3725)):
            Circle(SKETCH2_R)
    extrude(amount=-CUT_EXTRUDE1_DEPTH, mode=Mode.SUBTRACT)

    # Heat Strap Connections → Cut-Extrude2 (cut, through all)
    with BuildSketch(Plane.XY.offset(1.5875)):
        with Locations((38.1, -48.175)):
            Circle(HEAT_STRAP_CONNECTIONS_R)
        with Locations((50.8, -48.175)):
            Circle(HEAT_STRAP_CONNECTIONS_R)
        with Locations((63.5, -48.175)):
            Circle(HEAT_STRAP_CONNECTIONS_R)
        with Locations((76.2, -48.175)):
            Circle(HEAT_STRAP_CONNECTIONS_R)
        with Locations((88.9, -48.175)):
            Circle(HEAT_STRAP_CONNECTIONS_R)
        with Locations((101.6, -48.175)):
            Circle(HEAT_STRAP_CONNECTIONS_R)
        with Locations((114.3, -48.175)):
            Circle(HEAT_STRAP_CONNECTIONS_R)
        with Locations((127, -48.175)):
            Circle(HEAT_STRAP_CONNECTIONS_R)
        with Locations((23.5, -149.3975)):
            Circle(HEAT_STRAP_CONNECTIONS_R)
        with Locations((141.6, -149.3975)):
            Circle(HEAT_STRAP_CONNECTIONS_R)
        with Locations((36.2, -149.3975)):
            Circle(HEAT_STRAP_CONNECTIONS_R)
        with Locations((128.9, -149.3975)):
            Circle(HEAT_STRAP_CONNECTIONS_R)
    extrude(amount=-CUT_EXTRUDE2_DEPTH, mode=Mode.SUBTRACT)


solid = part.part
